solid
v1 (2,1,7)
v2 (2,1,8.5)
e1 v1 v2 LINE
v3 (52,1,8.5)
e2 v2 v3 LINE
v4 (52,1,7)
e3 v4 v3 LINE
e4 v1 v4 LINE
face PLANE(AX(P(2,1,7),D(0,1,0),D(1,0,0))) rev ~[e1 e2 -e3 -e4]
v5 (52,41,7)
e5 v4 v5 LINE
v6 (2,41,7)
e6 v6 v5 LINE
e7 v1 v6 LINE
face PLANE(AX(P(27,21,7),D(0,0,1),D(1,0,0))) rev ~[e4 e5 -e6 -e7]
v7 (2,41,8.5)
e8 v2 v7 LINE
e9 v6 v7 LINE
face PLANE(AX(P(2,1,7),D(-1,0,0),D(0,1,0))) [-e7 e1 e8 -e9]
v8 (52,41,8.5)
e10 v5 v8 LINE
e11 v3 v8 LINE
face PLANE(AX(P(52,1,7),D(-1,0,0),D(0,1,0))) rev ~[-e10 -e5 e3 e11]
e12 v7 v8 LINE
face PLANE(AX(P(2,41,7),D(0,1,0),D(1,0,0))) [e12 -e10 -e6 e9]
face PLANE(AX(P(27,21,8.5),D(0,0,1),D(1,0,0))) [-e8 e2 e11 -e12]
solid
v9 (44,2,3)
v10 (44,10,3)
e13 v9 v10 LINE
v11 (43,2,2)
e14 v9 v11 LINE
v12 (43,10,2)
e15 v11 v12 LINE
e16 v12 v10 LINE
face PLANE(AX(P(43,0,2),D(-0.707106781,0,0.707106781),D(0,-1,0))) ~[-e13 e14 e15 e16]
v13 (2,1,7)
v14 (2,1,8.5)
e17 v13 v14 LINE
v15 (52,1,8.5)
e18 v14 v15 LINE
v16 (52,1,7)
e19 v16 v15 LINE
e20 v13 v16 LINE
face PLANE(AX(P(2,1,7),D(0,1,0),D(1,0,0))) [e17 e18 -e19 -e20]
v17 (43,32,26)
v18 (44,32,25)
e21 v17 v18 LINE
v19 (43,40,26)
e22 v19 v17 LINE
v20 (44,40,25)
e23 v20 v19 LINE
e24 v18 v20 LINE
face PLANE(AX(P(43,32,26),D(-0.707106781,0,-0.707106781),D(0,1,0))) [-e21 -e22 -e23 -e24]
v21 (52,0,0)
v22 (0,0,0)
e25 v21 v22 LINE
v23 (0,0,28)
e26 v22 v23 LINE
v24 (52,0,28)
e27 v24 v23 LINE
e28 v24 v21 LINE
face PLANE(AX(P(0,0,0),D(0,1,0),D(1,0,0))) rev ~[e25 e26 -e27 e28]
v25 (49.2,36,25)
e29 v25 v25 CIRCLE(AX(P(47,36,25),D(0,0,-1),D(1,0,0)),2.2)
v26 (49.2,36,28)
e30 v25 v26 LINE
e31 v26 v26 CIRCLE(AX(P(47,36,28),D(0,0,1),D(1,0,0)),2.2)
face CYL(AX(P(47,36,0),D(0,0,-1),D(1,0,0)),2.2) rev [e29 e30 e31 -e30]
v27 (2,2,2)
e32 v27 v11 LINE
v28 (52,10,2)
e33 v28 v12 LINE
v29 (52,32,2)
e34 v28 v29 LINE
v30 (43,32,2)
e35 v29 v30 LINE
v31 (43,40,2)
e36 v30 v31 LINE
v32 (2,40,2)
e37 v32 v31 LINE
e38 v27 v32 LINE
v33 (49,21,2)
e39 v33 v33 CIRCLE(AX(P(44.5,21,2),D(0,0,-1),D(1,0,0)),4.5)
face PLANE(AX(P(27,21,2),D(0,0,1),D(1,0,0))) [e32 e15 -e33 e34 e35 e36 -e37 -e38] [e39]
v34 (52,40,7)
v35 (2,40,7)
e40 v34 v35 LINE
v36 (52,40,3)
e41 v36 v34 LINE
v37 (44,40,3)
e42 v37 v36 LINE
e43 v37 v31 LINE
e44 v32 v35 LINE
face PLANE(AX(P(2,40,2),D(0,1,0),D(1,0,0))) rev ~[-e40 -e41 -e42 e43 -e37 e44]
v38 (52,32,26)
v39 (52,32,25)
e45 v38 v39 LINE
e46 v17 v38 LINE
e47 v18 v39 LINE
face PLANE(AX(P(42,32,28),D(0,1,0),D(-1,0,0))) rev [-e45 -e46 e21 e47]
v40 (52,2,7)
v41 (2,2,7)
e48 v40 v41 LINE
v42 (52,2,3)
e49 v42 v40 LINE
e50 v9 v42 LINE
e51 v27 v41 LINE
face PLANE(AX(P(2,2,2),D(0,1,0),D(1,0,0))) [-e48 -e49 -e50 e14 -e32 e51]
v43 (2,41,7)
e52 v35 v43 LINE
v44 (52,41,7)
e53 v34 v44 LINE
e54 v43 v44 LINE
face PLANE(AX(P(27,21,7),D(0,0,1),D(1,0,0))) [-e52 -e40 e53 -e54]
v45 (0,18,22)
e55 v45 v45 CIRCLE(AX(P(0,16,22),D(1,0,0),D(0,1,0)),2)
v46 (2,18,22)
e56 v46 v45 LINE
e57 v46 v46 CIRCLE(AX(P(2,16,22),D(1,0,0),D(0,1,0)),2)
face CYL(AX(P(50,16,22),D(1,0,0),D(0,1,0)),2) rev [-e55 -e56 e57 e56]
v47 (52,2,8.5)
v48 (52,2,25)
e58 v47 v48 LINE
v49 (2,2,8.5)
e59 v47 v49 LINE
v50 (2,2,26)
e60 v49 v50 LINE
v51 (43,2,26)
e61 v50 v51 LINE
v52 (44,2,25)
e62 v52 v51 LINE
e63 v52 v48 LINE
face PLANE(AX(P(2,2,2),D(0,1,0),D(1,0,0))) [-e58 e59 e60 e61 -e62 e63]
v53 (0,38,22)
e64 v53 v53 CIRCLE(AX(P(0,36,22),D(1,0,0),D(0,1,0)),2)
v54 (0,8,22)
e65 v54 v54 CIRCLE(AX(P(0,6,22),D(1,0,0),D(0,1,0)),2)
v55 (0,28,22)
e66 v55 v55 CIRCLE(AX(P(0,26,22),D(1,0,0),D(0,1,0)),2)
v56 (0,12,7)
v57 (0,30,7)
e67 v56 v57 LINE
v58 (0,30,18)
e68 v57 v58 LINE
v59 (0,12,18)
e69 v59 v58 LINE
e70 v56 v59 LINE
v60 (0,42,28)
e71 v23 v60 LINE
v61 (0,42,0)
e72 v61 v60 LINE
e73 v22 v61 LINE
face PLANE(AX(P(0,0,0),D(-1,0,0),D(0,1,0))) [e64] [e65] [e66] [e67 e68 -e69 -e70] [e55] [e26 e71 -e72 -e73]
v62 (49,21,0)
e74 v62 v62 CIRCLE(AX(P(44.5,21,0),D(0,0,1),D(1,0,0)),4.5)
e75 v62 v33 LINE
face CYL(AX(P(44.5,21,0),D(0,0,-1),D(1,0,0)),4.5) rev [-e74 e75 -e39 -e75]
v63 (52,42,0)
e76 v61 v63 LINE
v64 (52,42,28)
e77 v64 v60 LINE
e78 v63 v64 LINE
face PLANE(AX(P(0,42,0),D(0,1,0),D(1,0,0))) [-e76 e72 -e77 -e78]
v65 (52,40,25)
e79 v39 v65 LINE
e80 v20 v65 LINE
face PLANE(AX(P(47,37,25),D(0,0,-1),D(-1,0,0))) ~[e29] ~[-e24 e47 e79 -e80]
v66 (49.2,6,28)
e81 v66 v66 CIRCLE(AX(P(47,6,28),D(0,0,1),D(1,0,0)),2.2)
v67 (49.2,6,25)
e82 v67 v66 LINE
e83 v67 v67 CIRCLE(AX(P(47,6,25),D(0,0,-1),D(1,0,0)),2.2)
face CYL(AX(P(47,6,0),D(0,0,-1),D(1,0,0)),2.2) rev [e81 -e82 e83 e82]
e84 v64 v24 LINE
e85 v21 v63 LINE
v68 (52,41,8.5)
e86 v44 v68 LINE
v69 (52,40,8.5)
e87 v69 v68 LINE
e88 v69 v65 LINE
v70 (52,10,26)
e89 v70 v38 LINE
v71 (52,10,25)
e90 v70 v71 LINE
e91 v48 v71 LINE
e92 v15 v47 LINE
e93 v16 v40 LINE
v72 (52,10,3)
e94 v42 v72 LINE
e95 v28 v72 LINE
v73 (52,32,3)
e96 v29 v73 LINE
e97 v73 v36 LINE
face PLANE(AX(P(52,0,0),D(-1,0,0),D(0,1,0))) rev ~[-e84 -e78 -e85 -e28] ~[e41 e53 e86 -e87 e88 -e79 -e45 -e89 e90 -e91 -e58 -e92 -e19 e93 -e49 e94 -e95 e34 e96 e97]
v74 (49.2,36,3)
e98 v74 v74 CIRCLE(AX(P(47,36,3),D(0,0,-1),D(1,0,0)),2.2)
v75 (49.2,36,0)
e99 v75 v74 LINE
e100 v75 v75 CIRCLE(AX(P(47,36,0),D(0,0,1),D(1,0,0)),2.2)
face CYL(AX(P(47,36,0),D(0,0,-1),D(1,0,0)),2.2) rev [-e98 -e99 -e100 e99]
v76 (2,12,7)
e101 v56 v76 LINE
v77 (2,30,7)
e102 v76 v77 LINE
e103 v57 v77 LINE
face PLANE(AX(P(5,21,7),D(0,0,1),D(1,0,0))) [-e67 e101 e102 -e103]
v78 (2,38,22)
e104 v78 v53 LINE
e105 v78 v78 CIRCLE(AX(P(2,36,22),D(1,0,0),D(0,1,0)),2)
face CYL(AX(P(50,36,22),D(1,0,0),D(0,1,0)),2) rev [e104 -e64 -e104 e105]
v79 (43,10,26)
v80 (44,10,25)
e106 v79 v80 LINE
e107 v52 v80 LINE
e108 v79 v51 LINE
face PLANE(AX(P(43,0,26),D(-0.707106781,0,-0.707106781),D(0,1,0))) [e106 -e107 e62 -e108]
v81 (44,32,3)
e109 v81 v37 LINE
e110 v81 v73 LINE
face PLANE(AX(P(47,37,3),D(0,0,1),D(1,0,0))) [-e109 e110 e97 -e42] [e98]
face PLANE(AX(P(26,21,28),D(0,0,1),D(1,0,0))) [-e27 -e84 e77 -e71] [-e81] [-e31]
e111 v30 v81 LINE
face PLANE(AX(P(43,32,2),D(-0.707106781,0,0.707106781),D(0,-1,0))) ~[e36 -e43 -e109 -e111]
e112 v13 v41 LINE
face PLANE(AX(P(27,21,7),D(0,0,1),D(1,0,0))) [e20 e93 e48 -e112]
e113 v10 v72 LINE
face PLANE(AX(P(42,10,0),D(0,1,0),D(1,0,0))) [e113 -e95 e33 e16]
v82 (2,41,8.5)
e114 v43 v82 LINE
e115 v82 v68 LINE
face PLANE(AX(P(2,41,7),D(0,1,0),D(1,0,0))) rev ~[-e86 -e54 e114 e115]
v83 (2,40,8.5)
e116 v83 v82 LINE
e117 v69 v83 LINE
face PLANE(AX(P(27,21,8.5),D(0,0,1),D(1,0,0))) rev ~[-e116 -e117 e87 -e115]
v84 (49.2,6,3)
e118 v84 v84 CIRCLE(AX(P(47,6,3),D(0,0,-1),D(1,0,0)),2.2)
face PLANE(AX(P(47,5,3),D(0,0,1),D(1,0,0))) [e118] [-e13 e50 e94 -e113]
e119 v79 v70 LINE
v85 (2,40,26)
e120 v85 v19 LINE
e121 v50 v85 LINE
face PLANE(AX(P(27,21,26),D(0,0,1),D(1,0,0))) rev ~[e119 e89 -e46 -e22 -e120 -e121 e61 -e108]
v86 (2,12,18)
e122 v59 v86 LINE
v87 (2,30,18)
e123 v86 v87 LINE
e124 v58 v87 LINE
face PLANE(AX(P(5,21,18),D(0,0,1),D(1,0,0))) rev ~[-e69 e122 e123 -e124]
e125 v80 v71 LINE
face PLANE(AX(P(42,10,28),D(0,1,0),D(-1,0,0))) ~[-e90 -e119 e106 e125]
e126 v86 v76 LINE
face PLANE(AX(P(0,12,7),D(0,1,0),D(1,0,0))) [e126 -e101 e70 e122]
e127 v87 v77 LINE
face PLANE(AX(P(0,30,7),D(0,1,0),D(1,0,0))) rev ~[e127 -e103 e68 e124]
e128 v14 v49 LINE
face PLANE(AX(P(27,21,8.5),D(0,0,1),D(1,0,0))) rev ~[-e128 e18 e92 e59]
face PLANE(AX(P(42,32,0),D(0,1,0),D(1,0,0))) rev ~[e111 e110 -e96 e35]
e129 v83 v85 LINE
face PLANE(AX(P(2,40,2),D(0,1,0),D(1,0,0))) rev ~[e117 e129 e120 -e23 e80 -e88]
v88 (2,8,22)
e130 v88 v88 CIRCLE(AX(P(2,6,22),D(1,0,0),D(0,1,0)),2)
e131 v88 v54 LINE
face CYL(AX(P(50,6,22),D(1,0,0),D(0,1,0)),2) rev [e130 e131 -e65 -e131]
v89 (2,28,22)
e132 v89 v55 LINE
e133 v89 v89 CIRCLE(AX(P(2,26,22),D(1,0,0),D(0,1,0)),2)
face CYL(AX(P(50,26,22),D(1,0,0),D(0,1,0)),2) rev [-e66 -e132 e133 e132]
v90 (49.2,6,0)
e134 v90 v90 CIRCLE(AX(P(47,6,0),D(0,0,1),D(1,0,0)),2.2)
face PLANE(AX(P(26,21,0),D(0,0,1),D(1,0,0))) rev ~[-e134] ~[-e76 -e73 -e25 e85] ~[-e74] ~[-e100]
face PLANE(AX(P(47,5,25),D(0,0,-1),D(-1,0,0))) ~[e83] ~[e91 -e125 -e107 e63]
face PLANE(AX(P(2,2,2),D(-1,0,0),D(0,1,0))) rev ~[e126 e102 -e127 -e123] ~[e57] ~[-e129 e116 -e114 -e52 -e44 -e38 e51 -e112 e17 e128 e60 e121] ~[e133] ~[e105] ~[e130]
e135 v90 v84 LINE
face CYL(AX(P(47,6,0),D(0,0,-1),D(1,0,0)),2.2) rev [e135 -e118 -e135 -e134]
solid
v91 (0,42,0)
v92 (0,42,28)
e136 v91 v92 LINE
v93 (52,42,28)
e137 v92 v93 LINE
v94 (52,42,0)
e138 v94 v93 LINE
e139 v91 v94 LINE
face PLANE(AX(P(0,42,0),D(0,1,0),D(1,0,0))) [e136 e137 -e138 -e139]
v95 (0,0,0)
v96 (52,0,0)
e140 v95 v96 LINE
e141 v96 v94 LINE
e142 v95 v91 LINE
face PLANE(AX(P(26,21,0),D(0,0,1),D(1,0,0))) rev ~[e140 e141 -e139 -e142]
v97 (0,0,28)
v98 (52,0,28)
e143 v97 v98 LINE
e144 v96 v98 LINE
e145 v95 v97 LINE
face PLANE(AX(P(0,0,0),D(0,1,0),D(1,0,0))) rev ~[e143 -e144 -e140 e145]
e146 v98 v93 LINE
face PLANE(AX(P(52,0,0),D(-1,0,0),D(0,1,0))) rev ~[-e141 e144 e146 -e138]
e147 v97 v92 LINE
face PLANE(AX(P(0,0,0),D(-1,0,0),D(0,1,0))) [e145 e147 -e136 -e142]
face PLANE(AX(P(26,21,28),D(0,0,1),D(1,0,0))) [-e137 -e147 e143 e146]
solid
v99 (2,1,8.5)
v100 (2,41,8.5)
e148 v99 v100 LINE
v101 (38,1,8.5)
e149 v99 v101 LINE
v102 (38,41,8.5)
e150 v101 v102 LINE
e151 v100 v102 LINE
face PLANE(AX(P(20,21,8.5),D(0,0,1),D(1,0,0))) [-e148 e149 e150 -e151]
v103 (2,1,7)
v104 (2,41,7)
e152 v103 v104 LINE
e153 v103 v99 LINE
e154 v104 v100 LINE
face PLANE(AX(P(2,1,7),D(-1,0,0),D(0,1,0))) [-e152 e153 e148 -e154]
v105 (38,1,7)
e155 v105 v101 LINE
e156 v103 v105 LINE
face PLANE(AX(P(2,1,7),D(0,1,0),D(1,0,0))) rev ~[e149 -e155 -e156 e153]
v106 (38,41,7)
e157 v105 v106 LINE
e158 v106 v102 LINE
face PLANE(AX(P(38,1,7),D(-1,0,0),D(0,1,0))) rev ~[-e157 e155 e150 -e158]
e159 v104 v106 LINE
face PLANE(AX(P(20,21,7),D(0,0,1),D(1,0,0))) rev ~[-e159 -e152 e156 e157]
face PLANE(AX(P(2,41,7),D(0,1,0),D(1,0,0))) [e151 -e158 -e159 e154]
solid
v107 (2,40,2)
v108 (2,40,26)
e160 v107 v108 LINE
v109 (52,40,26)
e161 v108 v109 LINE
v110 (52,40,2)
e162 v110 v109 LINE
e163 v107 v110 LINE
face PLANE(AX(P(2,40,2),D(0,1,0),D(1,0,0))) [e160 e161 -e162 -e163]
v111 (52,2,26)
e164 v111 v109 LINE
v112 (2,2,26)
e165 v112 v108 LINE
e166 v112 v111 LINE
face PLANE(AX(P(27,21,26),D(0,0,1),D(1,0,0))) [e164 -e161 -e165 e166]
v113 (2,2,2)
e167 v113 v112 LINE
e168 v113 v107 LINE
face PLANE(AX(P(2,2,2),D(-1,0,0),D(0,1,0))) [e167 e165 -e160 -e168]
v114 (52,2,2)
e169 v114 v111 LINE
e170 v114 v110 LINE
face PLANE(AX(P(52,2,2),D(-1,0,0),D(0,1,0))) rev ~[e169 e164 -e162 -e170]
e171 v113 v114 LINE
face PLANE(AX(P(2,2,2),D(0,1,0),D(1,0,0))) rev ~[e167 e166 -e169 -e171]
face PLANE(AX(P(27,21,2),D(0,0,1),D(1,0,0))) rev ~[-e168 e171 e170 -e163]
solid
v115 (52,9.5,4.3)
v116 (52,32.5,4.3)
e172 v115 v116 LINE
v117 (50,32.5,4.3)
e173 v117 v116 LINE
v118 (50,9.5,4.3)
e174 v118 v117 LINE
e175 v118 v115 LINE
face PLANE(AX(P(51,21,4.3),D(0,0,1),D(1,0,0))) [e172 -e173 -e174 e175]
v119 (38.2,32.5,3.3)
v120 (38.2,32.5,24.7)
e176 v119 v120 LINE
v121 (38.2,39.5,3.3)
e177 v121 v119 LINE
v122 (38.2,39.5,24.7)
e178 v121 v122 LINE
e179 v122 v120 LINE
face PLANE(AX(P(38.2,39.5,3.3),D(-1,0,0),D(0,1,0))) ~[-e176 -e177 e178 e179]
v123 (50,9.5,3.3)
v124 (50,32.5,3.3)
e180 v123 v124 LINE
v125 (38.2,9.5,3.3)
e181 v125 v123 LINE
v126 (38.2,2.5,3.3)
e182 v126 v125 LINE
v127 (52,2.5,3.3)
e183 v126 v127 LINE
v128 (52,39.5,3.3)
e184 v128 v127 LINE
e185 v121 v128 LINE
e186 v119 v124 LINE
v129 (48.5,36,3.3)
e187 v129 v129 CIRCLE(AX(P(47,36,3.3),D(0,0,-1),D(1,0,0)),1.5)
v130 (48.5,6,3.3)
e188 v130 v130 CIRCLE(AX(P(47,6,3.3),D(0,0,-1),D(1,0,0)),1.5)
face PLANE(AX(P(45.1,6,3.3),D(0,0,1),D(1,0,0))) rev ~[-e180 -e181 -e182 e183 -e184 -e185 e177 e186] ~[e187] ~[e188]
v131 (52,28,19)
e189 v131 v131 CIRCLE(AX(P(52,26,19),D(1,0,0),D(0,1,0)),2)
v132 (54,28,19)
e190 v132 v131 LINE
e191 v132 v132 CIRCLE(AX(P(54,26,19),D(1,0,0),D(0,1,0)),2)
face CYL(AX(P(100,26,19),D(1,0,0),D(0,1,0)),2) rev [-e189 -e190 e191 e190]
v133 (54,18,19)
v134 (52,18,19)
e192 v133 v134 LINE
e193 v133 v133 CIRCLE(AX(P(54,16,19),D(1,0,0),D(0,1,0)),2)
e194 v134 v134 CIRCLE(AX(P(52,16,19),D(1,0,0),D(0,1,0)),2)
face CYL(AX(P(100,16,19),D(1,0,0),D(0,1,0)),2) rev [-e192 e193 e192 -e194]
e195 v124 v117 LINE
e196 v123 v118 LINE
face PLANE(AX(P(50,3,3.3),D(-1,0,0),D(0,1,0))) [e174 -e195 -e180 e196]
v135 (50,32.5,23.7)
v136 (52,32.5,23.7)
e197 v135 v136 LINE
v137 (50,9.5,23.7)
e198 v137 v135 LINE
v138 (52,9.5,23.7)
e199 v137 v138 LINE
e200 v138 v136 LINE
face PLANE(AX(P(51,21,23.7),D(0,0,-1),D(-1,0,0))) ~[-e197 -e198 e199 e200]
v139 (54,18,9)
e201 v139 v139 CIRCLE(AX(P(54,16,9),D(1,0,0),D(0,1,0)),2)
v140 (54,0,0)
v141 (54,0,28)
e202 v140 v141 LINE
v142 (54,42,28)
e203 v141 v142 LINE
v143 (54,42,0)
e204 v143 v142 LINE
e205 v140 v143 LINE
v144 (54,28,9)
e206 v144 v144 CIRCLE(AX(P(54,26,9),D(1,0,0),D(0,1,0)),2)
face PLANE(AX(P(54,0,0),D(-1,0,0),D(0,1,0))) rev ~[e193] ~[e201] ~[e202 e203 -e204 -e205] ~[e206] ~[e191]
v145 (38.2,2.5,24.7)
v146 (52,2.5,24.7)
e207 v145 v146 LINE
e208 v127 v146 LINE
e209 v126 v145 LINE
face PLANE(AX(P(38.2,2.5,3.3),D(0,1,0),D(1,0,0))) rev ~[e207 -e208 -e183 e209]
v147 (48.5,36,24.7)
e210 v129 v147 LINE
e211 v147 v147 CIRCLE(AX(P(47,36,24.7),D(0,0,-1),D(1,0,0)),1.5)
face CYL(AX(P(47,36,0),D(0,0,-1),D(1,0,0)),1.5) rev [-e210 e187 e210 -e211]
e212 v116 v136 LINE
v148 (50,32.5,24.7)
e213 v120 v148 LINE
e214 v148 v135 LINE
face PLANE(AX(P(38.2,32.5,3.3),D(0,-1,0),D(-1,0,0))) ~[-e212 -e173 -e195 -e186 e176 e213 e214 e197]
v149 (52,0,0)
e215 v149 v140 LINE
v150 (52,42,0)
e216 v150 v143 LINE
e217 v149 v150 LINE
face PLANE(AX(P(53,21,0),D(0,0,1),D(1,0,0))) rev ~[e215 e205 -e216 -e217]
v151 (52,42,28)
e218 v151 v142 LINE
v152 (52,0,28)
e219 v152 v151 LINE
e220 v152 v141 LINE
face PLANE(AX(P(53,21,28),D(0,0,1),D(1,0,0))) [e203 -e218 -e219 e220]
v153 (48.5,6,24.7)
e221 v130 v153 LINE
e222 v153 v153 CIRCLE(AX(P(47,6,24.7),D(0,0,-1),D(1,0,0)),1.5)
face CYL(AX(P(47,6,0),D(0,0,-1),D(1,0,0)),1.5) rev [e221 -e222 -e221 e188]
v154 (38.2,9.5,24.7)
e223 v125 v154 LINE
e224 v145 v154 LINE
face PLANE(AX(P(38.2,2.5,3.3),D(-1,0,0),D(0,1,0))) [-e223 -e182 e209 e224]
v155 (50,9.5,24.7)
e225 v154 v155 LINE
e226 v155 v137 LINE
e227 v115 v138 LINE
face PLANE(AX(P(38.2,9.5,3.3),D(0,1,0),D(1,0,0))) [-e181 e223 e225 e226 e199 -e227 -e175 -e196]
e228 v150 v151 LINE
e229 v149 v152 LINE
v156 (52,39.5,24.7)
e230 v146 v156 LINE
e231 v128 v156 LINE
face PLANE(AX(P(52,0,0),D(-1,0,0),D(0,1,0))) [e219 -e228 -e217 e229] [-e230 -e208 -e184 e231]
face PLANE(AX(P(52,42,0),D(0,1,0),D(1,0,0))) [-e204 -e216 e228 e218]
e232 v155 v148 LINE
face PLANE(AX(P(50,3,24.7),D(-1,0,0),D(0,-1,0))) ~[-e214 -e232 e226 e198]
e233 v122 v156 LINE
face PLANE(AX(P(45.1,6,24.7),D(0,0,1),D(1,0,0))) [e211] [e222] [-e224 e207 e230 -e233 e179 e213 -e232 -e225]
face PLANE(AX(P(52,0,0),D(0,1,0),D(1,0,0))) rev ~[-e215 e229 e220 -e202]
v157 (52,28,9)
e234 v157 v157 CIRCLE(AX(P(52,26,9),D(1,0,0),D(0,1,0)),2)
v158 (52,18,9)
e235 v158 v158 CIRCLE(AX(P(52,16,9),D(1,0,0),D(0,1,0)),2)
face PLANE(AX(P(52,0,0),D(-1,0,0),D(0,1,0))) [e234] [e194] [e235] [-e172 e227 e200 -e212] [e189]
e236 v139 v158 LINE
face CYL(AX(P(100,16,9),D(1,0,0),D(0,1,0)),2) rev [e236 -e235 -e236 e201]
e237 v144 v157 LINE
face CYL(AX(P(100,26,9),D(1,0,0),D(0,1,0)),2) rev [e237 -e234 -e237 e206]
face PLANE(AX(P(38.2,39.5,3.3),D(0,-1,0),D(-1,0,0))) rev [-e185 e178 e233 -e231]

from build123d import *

# Parameters (mm, degrees)
BOX003_W          = 36
BOX003_H          = 40
BOX003_DEPTH      = 1.5
CYLINDER001_R     = 2.2
CYLINDER001_DEPTH = 28
ARRAY001_Y_COUNT  = 2
ARRAY001_Y_PITCH  = 30
BOX005_W          = 10
BOX005_H          = 10
BOX005_DEPTH      = 3
CHAMFER_SIZE      = 2
ARRAY_Y_COUNT     = 2
ARRAY_Y_PITCH     = 32
BOX_W             = 50
BOX_H             = 38
BOX_DEPTH         = 24
BOX004_W          = 10
BOX004_H          = 18
BOX004_DEPTH      = 11
CYLINDER_R        = 4.5
CYLINDER_DEPTH    = 10
CYLINDER002_R     = 2
CYLINDER002_DEPTH = 100
ARRAY002_Y_COUNT  = 4
ARRAY002_Y_PITCH  = 10
BOX001_W          = 50
BOX001_H          = 40
BOX001_DEPTH      = 1.5
BOX002_W          = 52
BOX002_H          = 42
BOX002_DEPTH      = 28
CYLINDER003_R     = 1.5
CYLINDER003_DEPTH = 28
ARRAY003_Y_COUNT  = 2
ARRAY003_Y_PITCH  = 30
CYLINDER004_R     = 2
CYLINDER004_DEPTH = 100
ARRAY004_Y_COUNT  = 2
ARRAY004_Y_PITCH  = 10
ARRAY004_Z_COUNT  = 2
ARRAY004_Z_PITCH  = 10
BOX007_W          = 13.8
BOX007_H          = 7
BOX007_DEPTH      = 21.4
BOX006_W          = 2
BOX006_H          = 42
BOX006_DEPTH      = 28
BOX008_W          = 2
BOX008_H          = 36
BOX008_DEPTH      = 1
BOX009_W          = 50
BOX009_H          = 38
BOX009_DEPTH      = 24
BOX010_W          = 50
BOX010_H          = 40
BOX010_DEPTH      = 1.5
BOX011_W          = 52
BOX011_H          = 42
BOX011_DEPTH      = 28


with BuildPart() as pcb_mockup:
    # Box003 → Box003 (new body)
    with BuildSketch(Plane(origin=(2, 1, 7), x_dir=(1, 0, 0), z_dir=(0, 0, 1))):
        with Locations((18, 20)):
            Rectangle(BOX003_W, BOX003_H)
    extrude(amount=BOX003_DEPTH)


with BuildPart() as bolt_hole_array:
    # Cylinder001 → Cylinder001 (new body)
    with BuildSketch(Plane.XY):
        Circle(CYLINDER001_R)
    extrude(amount=CYLINDER001_DEPTH)

    # Array001 Y: bolt hole array ×2


with BuildPart() as bolt_hole_array_1:
    add(bolt_hole_array.part)
    with Locations(*[(0, i * ARRAY001_Y_PITCH, 0) for i in range(1, ARRAY001_Y_COUNT)]):
        add(bolt_hole_array.part)


with BuildPart() as bolt_hole_array_2:
    # Array001 placement: moved
    add(bolt_hole_array_1.part.moved(Location((47, 6, 0))))


with BuildPart() as bolt_hole_stand_array:
    # Box005 → Box005 (new body)
    with BuildSketch(Plane(origin=(42, 0, 0), x_dir=(1, 0, 0), z_dir=(0, 0, 1))):
        with Locations((5, 5)):
            Rectangle(BOX005_W, BOX005_H)
    extrude(amount=BOX005_DEPTH)

    # Chamfer
    chamfer_edges = [bolt_hole_stand_array.edges().sort_by_distance(p)[0] for p in [
        (42, 5, 3),
    ]]
    chamfer(chamfer_edges, length=CHAMFER_SIZE)

    # Array Y: bolt hole stand array ×2


with BuildPart() as bolt_hole_stand_array_1:
    add(bolt_hole_stand_array.part)
    with Locations(*[(0, i * ARRAY_Y_PITCH, 0) for i in range(1, ARRAY_Y_COUNT)]):
        add(bolt_hole_stand_array.part)


with BuildPart() as part_mirroring:
    # Part__Mirroring: instance of bolt hole stand array
    add(bolt_hole_stand_array_1.part.mirror(Plane(origin=(0, 0, 14), x_dir=(0, 1, 0), z_dir=(0, 0, 1))))


with BuildPart() as internal_cube:
    # Box → Box (new body)
    with BuildSketch(Plane(origin=(2, 2, 2), x_dir=(1, 0, 0), z_dir=(0, 0, 1))):
        with Locations((25, 19)):
            Rectangle(BOX_W, BOX_H)
    extrude(amount=BOX_DEPTH)


with BuildPart() as usb_hole_cube:
    # Box004 → Box004 (new body)
    with BuildSketch(Plane(origin=(0, 12, 7), x_dir=(1, 0, 0), z_dir=(0, 0, 1))):
        with Locations((5, 9)):
            Rectangle(BOX004_W, BOX004_H)
    extrude(amount=BOX004_DEPTH)


with BuildPart() as wire_hole:
    # Cylinder → Cylinder (new body)
    with BuildSketch(Plane(origin=(44.5, 21, 0), x_dir=(1, 0, 0), z_dir=(0, 0, 1))):
        Circle(CYLINDER_R)
    extrude(amount=CYLINDER_DEPTH)


with BuildPart() as ventilation_hole_array:
    # Cylinder002 → Cylinder002 (new body)
    with BuildSketch(Plane(origin=(50, 0, 22), x_dir=(0, 1, 0), z_dir=(-1, 0, 0))):
        Circle(CYLINDER002_R)
    extrude(amount=CYLINDER002_DEPTH)

    # Array002 Y: ventilation hole array ×4


with BuildPart() as ventilation_hole_array_1:
    add(ventilation_hole_array.part)
    with Locations(*[(0, i * ARRAY002_Y_PITCH, 0) for i in range(1, ARRAY002_Y_COUNT)]):
        add(ventilation_hole_array.part)


with BuildPart() as ventilation_hole_array_2:
    # Array002 placement: moved
    add(ventilation_hole_array_1.part.moved(Location((0, 6, 0))))


with BuildPart() as extract_fusion:
    # Box001 → Box001 (new body)
    with BuildSketch(Plane(origin=(2, 1, 7), x_dir=(1, 0, 0), z_dir=(0, 0, 1))):
        with Locations((25, 20)):
            Rectangle(BOX001_W, BOX001_H)
    extrude(amount=BOX001_DEPTH)

    # Fusion: union internal cube, usb hole cube, wire hole, ventilation hole array
    add(internal_cube.part)
    add(usb_hole_cube.part)
    add(wire_hole.part)
    add(ventilation_hole_array_2.part)


with BuildPart() as full_body_cut:
    # Box002 → Box002 (new body)
    with BuildSketch(Plane.XY):
        with Locations((26, 21)):
            Rectangle(BOX002_W, BOX002_H)
    extrude(amount=BOX002_DEPTH)

    # Cut: cut extract fusion
    add(extract_fusion.part, mode=Mode.SUBTRACT)

    # Fusion001: union Part__Mirroring, bolt hole stand array
    add(part_mirroring.part)
    add(bolt_hole_stand_array_1.part)

    # Cut001: cut bolt hole array
    add(bolt_hole_array_2.part, mode=Mode.SUBTRACT)


with BuildPart() as bolt_hole_array001:
    # Cylinder003 → Cylinder003 (new body)
    with BuildSketch(Plane.XY):
        Circle(CYLINDER003_R)
    extrude(amount=CYLINDER003_DEPTH)

    # Array003 Y: bolt hole array001 ×2


with BuildPart() as bolt_hole_array001_1:
    add(bolt_hole_array001.part)
    with Locations(*[(0, i * ARRAY003_Y_PITCH, 0) for i in range(1, ARRAY003_Y_COUNT)]):
        add(bolt_hole_array001.part)


with BuildPart() as bolt_hole_array001_2:
    # Array003 placement: moved
    add(bolt_hole_array001_1.part.moved(Location((47, 6, 0))))


with BuildPart() as wall_hole_fusion:
    # Cylinder004 → Cylinder004 (new body)
    with BuildSketch(Plane(origin=(100, 0, 9), x_dir=(0, 1, 0), z_dir=(-1, 0, 0))):
        Circle(CYLINDER004_R)
    extrude(amount=CYLINDER004_DEPTH)

    # Array004 Y: wall hole fusion ×2


with BuildPart() as wall_hole_fusion_1:
    add(wall_hole_fusion.part)
    with Locations(*[(0, i * ARRAY004_Y_PITCH, 0) for i in range(1, ARRAY004_Y_COUNT)]):
        add(wall_hole_fusion.part)

    # Array004 Z: wall hole fusion ×2


with BuildPart() as wall_hole_fusion_2:
    add(wall_hole_fusion_1.part)
    with Locations(*[(0, 0, i * ARRAY004_Z_PITCH) for i in range(1, ARRAY004_Z_COUNT)]):
        add(wall_hole_fusion_1.part)


with BuildPart() as wall_hole_fusion_3:
    # Array004 placement: moved
    add(wall_hole_fusion_2.part.moved(Location((0, 16, 0))))

    # Fusion003: union bolt hole array001
    add(bolt_hole_array001_2.part)


with BuildPart() as wall_side:
    # Box007 → Box007 (new body)
    with BuildSketch(Plane(origin=(38.2, 2.5, 3.3), x_dir=(1, 0, 0), z_dir=(0, 0, 1))):
        with Locations((6.9, 3.5)):
            Rectangle(BOX007_W, BOX007_H)
    extrude(amount=BOX007_DEPTH)


with BuildPart() as part_mirroring001:
    # Part__Mirroring001: instance of wall side
    add(wall_side.part.mirror(Plane(origin=(0, 21, 0), x_dir=(1, 0, 0), z_dir=(0, 1, 0))))


with BuildPart() as wall_cube:
    # Box006 → Box006 (new body)
    with BuildSketch(Plane(origin=(52, 0, 0), x_dir=(1, 0, 0), z_dir=(0, 0, 1))):
        with Locations((1, 21)):
            Rectangle(BOX006_W, BOX006_H)
    extrude(amount=BOX006_DEPTH)


with BuildPart() as y_wall:
    # Box008 → Box008 (new body)
    with BuildSketch(Plane(origin=(50, 3, 3.3), x_dir=(1, 0, 0), z_dir=(0, 0, 1))):
        with Locations((1, 18)):
            Rectangle(BOX008_W, BOX008_H)
    extrude(amount=BOX008_DEPTH)


with BuildPart() as part_mirroring002:
    # Part__Mirroring002: instance of y_wall
    add(y_wall.part.mirror(Plane(origin=(0, 0, 14), x_dir=(0, 1, 0), z_dir=(0, 0, 1))))


with BuildPart() as wall_cut:
    # Fusion002 base: copy of wall side
    add(wall_side.part)

    # Fusion002: union Part__Mirroring001, wall cube, Part__Mirroring002, y_wall
    add(part_mirroring001.part)
    add(wall_cube.part)
    add(part_mirroring002.part)
    add(y_wall.part)

    # Cut002: cut wall hole fusion
    add(wall_hole_fusion_3.part, mode=Mode.SUBTRACT)


with BuildPart() as internal_cube001:
    # Box009 → Box009 (new body)
    with BuildSketch(Plane(origin=(2, 2, 2), x_dir=(1, 0, 0), z_dir=(0, 0, 1))):
        with Locations((25, 19)):
            Rectangle(BOX009_W, BOX009_H)
    extrude(amount=BOX009_DEPTH)


with BuildPart() as pcb_extract_cube001:
    # Box010 → Box010 (new body)
    with BuildSketch(Plane(origin=(2, 1, 7), x_dir=(1, 0, 0), z_dir=(0, 0, 1))):
        with Locations((25, 20)):
            Rectangle(BOX010_W, BOX010_H)
    extrude(amount=BOX010_DEPTH)


with BuildPart() as external_cube001:
    # Box011 → Box011 (new body)
    with BuildSketch(Plane.XY):
        with Locations((26, 21)):
            Rectangle(BOX011_W, BOX011_H)
    extrude(amount=BOX011_DEPTH)


solid = Compound([pcb_mockup.part, full_body_cut.part, wall_cut.part, internal_cube001.part, pcb_extract_cube001.part, external_cube001.part])
